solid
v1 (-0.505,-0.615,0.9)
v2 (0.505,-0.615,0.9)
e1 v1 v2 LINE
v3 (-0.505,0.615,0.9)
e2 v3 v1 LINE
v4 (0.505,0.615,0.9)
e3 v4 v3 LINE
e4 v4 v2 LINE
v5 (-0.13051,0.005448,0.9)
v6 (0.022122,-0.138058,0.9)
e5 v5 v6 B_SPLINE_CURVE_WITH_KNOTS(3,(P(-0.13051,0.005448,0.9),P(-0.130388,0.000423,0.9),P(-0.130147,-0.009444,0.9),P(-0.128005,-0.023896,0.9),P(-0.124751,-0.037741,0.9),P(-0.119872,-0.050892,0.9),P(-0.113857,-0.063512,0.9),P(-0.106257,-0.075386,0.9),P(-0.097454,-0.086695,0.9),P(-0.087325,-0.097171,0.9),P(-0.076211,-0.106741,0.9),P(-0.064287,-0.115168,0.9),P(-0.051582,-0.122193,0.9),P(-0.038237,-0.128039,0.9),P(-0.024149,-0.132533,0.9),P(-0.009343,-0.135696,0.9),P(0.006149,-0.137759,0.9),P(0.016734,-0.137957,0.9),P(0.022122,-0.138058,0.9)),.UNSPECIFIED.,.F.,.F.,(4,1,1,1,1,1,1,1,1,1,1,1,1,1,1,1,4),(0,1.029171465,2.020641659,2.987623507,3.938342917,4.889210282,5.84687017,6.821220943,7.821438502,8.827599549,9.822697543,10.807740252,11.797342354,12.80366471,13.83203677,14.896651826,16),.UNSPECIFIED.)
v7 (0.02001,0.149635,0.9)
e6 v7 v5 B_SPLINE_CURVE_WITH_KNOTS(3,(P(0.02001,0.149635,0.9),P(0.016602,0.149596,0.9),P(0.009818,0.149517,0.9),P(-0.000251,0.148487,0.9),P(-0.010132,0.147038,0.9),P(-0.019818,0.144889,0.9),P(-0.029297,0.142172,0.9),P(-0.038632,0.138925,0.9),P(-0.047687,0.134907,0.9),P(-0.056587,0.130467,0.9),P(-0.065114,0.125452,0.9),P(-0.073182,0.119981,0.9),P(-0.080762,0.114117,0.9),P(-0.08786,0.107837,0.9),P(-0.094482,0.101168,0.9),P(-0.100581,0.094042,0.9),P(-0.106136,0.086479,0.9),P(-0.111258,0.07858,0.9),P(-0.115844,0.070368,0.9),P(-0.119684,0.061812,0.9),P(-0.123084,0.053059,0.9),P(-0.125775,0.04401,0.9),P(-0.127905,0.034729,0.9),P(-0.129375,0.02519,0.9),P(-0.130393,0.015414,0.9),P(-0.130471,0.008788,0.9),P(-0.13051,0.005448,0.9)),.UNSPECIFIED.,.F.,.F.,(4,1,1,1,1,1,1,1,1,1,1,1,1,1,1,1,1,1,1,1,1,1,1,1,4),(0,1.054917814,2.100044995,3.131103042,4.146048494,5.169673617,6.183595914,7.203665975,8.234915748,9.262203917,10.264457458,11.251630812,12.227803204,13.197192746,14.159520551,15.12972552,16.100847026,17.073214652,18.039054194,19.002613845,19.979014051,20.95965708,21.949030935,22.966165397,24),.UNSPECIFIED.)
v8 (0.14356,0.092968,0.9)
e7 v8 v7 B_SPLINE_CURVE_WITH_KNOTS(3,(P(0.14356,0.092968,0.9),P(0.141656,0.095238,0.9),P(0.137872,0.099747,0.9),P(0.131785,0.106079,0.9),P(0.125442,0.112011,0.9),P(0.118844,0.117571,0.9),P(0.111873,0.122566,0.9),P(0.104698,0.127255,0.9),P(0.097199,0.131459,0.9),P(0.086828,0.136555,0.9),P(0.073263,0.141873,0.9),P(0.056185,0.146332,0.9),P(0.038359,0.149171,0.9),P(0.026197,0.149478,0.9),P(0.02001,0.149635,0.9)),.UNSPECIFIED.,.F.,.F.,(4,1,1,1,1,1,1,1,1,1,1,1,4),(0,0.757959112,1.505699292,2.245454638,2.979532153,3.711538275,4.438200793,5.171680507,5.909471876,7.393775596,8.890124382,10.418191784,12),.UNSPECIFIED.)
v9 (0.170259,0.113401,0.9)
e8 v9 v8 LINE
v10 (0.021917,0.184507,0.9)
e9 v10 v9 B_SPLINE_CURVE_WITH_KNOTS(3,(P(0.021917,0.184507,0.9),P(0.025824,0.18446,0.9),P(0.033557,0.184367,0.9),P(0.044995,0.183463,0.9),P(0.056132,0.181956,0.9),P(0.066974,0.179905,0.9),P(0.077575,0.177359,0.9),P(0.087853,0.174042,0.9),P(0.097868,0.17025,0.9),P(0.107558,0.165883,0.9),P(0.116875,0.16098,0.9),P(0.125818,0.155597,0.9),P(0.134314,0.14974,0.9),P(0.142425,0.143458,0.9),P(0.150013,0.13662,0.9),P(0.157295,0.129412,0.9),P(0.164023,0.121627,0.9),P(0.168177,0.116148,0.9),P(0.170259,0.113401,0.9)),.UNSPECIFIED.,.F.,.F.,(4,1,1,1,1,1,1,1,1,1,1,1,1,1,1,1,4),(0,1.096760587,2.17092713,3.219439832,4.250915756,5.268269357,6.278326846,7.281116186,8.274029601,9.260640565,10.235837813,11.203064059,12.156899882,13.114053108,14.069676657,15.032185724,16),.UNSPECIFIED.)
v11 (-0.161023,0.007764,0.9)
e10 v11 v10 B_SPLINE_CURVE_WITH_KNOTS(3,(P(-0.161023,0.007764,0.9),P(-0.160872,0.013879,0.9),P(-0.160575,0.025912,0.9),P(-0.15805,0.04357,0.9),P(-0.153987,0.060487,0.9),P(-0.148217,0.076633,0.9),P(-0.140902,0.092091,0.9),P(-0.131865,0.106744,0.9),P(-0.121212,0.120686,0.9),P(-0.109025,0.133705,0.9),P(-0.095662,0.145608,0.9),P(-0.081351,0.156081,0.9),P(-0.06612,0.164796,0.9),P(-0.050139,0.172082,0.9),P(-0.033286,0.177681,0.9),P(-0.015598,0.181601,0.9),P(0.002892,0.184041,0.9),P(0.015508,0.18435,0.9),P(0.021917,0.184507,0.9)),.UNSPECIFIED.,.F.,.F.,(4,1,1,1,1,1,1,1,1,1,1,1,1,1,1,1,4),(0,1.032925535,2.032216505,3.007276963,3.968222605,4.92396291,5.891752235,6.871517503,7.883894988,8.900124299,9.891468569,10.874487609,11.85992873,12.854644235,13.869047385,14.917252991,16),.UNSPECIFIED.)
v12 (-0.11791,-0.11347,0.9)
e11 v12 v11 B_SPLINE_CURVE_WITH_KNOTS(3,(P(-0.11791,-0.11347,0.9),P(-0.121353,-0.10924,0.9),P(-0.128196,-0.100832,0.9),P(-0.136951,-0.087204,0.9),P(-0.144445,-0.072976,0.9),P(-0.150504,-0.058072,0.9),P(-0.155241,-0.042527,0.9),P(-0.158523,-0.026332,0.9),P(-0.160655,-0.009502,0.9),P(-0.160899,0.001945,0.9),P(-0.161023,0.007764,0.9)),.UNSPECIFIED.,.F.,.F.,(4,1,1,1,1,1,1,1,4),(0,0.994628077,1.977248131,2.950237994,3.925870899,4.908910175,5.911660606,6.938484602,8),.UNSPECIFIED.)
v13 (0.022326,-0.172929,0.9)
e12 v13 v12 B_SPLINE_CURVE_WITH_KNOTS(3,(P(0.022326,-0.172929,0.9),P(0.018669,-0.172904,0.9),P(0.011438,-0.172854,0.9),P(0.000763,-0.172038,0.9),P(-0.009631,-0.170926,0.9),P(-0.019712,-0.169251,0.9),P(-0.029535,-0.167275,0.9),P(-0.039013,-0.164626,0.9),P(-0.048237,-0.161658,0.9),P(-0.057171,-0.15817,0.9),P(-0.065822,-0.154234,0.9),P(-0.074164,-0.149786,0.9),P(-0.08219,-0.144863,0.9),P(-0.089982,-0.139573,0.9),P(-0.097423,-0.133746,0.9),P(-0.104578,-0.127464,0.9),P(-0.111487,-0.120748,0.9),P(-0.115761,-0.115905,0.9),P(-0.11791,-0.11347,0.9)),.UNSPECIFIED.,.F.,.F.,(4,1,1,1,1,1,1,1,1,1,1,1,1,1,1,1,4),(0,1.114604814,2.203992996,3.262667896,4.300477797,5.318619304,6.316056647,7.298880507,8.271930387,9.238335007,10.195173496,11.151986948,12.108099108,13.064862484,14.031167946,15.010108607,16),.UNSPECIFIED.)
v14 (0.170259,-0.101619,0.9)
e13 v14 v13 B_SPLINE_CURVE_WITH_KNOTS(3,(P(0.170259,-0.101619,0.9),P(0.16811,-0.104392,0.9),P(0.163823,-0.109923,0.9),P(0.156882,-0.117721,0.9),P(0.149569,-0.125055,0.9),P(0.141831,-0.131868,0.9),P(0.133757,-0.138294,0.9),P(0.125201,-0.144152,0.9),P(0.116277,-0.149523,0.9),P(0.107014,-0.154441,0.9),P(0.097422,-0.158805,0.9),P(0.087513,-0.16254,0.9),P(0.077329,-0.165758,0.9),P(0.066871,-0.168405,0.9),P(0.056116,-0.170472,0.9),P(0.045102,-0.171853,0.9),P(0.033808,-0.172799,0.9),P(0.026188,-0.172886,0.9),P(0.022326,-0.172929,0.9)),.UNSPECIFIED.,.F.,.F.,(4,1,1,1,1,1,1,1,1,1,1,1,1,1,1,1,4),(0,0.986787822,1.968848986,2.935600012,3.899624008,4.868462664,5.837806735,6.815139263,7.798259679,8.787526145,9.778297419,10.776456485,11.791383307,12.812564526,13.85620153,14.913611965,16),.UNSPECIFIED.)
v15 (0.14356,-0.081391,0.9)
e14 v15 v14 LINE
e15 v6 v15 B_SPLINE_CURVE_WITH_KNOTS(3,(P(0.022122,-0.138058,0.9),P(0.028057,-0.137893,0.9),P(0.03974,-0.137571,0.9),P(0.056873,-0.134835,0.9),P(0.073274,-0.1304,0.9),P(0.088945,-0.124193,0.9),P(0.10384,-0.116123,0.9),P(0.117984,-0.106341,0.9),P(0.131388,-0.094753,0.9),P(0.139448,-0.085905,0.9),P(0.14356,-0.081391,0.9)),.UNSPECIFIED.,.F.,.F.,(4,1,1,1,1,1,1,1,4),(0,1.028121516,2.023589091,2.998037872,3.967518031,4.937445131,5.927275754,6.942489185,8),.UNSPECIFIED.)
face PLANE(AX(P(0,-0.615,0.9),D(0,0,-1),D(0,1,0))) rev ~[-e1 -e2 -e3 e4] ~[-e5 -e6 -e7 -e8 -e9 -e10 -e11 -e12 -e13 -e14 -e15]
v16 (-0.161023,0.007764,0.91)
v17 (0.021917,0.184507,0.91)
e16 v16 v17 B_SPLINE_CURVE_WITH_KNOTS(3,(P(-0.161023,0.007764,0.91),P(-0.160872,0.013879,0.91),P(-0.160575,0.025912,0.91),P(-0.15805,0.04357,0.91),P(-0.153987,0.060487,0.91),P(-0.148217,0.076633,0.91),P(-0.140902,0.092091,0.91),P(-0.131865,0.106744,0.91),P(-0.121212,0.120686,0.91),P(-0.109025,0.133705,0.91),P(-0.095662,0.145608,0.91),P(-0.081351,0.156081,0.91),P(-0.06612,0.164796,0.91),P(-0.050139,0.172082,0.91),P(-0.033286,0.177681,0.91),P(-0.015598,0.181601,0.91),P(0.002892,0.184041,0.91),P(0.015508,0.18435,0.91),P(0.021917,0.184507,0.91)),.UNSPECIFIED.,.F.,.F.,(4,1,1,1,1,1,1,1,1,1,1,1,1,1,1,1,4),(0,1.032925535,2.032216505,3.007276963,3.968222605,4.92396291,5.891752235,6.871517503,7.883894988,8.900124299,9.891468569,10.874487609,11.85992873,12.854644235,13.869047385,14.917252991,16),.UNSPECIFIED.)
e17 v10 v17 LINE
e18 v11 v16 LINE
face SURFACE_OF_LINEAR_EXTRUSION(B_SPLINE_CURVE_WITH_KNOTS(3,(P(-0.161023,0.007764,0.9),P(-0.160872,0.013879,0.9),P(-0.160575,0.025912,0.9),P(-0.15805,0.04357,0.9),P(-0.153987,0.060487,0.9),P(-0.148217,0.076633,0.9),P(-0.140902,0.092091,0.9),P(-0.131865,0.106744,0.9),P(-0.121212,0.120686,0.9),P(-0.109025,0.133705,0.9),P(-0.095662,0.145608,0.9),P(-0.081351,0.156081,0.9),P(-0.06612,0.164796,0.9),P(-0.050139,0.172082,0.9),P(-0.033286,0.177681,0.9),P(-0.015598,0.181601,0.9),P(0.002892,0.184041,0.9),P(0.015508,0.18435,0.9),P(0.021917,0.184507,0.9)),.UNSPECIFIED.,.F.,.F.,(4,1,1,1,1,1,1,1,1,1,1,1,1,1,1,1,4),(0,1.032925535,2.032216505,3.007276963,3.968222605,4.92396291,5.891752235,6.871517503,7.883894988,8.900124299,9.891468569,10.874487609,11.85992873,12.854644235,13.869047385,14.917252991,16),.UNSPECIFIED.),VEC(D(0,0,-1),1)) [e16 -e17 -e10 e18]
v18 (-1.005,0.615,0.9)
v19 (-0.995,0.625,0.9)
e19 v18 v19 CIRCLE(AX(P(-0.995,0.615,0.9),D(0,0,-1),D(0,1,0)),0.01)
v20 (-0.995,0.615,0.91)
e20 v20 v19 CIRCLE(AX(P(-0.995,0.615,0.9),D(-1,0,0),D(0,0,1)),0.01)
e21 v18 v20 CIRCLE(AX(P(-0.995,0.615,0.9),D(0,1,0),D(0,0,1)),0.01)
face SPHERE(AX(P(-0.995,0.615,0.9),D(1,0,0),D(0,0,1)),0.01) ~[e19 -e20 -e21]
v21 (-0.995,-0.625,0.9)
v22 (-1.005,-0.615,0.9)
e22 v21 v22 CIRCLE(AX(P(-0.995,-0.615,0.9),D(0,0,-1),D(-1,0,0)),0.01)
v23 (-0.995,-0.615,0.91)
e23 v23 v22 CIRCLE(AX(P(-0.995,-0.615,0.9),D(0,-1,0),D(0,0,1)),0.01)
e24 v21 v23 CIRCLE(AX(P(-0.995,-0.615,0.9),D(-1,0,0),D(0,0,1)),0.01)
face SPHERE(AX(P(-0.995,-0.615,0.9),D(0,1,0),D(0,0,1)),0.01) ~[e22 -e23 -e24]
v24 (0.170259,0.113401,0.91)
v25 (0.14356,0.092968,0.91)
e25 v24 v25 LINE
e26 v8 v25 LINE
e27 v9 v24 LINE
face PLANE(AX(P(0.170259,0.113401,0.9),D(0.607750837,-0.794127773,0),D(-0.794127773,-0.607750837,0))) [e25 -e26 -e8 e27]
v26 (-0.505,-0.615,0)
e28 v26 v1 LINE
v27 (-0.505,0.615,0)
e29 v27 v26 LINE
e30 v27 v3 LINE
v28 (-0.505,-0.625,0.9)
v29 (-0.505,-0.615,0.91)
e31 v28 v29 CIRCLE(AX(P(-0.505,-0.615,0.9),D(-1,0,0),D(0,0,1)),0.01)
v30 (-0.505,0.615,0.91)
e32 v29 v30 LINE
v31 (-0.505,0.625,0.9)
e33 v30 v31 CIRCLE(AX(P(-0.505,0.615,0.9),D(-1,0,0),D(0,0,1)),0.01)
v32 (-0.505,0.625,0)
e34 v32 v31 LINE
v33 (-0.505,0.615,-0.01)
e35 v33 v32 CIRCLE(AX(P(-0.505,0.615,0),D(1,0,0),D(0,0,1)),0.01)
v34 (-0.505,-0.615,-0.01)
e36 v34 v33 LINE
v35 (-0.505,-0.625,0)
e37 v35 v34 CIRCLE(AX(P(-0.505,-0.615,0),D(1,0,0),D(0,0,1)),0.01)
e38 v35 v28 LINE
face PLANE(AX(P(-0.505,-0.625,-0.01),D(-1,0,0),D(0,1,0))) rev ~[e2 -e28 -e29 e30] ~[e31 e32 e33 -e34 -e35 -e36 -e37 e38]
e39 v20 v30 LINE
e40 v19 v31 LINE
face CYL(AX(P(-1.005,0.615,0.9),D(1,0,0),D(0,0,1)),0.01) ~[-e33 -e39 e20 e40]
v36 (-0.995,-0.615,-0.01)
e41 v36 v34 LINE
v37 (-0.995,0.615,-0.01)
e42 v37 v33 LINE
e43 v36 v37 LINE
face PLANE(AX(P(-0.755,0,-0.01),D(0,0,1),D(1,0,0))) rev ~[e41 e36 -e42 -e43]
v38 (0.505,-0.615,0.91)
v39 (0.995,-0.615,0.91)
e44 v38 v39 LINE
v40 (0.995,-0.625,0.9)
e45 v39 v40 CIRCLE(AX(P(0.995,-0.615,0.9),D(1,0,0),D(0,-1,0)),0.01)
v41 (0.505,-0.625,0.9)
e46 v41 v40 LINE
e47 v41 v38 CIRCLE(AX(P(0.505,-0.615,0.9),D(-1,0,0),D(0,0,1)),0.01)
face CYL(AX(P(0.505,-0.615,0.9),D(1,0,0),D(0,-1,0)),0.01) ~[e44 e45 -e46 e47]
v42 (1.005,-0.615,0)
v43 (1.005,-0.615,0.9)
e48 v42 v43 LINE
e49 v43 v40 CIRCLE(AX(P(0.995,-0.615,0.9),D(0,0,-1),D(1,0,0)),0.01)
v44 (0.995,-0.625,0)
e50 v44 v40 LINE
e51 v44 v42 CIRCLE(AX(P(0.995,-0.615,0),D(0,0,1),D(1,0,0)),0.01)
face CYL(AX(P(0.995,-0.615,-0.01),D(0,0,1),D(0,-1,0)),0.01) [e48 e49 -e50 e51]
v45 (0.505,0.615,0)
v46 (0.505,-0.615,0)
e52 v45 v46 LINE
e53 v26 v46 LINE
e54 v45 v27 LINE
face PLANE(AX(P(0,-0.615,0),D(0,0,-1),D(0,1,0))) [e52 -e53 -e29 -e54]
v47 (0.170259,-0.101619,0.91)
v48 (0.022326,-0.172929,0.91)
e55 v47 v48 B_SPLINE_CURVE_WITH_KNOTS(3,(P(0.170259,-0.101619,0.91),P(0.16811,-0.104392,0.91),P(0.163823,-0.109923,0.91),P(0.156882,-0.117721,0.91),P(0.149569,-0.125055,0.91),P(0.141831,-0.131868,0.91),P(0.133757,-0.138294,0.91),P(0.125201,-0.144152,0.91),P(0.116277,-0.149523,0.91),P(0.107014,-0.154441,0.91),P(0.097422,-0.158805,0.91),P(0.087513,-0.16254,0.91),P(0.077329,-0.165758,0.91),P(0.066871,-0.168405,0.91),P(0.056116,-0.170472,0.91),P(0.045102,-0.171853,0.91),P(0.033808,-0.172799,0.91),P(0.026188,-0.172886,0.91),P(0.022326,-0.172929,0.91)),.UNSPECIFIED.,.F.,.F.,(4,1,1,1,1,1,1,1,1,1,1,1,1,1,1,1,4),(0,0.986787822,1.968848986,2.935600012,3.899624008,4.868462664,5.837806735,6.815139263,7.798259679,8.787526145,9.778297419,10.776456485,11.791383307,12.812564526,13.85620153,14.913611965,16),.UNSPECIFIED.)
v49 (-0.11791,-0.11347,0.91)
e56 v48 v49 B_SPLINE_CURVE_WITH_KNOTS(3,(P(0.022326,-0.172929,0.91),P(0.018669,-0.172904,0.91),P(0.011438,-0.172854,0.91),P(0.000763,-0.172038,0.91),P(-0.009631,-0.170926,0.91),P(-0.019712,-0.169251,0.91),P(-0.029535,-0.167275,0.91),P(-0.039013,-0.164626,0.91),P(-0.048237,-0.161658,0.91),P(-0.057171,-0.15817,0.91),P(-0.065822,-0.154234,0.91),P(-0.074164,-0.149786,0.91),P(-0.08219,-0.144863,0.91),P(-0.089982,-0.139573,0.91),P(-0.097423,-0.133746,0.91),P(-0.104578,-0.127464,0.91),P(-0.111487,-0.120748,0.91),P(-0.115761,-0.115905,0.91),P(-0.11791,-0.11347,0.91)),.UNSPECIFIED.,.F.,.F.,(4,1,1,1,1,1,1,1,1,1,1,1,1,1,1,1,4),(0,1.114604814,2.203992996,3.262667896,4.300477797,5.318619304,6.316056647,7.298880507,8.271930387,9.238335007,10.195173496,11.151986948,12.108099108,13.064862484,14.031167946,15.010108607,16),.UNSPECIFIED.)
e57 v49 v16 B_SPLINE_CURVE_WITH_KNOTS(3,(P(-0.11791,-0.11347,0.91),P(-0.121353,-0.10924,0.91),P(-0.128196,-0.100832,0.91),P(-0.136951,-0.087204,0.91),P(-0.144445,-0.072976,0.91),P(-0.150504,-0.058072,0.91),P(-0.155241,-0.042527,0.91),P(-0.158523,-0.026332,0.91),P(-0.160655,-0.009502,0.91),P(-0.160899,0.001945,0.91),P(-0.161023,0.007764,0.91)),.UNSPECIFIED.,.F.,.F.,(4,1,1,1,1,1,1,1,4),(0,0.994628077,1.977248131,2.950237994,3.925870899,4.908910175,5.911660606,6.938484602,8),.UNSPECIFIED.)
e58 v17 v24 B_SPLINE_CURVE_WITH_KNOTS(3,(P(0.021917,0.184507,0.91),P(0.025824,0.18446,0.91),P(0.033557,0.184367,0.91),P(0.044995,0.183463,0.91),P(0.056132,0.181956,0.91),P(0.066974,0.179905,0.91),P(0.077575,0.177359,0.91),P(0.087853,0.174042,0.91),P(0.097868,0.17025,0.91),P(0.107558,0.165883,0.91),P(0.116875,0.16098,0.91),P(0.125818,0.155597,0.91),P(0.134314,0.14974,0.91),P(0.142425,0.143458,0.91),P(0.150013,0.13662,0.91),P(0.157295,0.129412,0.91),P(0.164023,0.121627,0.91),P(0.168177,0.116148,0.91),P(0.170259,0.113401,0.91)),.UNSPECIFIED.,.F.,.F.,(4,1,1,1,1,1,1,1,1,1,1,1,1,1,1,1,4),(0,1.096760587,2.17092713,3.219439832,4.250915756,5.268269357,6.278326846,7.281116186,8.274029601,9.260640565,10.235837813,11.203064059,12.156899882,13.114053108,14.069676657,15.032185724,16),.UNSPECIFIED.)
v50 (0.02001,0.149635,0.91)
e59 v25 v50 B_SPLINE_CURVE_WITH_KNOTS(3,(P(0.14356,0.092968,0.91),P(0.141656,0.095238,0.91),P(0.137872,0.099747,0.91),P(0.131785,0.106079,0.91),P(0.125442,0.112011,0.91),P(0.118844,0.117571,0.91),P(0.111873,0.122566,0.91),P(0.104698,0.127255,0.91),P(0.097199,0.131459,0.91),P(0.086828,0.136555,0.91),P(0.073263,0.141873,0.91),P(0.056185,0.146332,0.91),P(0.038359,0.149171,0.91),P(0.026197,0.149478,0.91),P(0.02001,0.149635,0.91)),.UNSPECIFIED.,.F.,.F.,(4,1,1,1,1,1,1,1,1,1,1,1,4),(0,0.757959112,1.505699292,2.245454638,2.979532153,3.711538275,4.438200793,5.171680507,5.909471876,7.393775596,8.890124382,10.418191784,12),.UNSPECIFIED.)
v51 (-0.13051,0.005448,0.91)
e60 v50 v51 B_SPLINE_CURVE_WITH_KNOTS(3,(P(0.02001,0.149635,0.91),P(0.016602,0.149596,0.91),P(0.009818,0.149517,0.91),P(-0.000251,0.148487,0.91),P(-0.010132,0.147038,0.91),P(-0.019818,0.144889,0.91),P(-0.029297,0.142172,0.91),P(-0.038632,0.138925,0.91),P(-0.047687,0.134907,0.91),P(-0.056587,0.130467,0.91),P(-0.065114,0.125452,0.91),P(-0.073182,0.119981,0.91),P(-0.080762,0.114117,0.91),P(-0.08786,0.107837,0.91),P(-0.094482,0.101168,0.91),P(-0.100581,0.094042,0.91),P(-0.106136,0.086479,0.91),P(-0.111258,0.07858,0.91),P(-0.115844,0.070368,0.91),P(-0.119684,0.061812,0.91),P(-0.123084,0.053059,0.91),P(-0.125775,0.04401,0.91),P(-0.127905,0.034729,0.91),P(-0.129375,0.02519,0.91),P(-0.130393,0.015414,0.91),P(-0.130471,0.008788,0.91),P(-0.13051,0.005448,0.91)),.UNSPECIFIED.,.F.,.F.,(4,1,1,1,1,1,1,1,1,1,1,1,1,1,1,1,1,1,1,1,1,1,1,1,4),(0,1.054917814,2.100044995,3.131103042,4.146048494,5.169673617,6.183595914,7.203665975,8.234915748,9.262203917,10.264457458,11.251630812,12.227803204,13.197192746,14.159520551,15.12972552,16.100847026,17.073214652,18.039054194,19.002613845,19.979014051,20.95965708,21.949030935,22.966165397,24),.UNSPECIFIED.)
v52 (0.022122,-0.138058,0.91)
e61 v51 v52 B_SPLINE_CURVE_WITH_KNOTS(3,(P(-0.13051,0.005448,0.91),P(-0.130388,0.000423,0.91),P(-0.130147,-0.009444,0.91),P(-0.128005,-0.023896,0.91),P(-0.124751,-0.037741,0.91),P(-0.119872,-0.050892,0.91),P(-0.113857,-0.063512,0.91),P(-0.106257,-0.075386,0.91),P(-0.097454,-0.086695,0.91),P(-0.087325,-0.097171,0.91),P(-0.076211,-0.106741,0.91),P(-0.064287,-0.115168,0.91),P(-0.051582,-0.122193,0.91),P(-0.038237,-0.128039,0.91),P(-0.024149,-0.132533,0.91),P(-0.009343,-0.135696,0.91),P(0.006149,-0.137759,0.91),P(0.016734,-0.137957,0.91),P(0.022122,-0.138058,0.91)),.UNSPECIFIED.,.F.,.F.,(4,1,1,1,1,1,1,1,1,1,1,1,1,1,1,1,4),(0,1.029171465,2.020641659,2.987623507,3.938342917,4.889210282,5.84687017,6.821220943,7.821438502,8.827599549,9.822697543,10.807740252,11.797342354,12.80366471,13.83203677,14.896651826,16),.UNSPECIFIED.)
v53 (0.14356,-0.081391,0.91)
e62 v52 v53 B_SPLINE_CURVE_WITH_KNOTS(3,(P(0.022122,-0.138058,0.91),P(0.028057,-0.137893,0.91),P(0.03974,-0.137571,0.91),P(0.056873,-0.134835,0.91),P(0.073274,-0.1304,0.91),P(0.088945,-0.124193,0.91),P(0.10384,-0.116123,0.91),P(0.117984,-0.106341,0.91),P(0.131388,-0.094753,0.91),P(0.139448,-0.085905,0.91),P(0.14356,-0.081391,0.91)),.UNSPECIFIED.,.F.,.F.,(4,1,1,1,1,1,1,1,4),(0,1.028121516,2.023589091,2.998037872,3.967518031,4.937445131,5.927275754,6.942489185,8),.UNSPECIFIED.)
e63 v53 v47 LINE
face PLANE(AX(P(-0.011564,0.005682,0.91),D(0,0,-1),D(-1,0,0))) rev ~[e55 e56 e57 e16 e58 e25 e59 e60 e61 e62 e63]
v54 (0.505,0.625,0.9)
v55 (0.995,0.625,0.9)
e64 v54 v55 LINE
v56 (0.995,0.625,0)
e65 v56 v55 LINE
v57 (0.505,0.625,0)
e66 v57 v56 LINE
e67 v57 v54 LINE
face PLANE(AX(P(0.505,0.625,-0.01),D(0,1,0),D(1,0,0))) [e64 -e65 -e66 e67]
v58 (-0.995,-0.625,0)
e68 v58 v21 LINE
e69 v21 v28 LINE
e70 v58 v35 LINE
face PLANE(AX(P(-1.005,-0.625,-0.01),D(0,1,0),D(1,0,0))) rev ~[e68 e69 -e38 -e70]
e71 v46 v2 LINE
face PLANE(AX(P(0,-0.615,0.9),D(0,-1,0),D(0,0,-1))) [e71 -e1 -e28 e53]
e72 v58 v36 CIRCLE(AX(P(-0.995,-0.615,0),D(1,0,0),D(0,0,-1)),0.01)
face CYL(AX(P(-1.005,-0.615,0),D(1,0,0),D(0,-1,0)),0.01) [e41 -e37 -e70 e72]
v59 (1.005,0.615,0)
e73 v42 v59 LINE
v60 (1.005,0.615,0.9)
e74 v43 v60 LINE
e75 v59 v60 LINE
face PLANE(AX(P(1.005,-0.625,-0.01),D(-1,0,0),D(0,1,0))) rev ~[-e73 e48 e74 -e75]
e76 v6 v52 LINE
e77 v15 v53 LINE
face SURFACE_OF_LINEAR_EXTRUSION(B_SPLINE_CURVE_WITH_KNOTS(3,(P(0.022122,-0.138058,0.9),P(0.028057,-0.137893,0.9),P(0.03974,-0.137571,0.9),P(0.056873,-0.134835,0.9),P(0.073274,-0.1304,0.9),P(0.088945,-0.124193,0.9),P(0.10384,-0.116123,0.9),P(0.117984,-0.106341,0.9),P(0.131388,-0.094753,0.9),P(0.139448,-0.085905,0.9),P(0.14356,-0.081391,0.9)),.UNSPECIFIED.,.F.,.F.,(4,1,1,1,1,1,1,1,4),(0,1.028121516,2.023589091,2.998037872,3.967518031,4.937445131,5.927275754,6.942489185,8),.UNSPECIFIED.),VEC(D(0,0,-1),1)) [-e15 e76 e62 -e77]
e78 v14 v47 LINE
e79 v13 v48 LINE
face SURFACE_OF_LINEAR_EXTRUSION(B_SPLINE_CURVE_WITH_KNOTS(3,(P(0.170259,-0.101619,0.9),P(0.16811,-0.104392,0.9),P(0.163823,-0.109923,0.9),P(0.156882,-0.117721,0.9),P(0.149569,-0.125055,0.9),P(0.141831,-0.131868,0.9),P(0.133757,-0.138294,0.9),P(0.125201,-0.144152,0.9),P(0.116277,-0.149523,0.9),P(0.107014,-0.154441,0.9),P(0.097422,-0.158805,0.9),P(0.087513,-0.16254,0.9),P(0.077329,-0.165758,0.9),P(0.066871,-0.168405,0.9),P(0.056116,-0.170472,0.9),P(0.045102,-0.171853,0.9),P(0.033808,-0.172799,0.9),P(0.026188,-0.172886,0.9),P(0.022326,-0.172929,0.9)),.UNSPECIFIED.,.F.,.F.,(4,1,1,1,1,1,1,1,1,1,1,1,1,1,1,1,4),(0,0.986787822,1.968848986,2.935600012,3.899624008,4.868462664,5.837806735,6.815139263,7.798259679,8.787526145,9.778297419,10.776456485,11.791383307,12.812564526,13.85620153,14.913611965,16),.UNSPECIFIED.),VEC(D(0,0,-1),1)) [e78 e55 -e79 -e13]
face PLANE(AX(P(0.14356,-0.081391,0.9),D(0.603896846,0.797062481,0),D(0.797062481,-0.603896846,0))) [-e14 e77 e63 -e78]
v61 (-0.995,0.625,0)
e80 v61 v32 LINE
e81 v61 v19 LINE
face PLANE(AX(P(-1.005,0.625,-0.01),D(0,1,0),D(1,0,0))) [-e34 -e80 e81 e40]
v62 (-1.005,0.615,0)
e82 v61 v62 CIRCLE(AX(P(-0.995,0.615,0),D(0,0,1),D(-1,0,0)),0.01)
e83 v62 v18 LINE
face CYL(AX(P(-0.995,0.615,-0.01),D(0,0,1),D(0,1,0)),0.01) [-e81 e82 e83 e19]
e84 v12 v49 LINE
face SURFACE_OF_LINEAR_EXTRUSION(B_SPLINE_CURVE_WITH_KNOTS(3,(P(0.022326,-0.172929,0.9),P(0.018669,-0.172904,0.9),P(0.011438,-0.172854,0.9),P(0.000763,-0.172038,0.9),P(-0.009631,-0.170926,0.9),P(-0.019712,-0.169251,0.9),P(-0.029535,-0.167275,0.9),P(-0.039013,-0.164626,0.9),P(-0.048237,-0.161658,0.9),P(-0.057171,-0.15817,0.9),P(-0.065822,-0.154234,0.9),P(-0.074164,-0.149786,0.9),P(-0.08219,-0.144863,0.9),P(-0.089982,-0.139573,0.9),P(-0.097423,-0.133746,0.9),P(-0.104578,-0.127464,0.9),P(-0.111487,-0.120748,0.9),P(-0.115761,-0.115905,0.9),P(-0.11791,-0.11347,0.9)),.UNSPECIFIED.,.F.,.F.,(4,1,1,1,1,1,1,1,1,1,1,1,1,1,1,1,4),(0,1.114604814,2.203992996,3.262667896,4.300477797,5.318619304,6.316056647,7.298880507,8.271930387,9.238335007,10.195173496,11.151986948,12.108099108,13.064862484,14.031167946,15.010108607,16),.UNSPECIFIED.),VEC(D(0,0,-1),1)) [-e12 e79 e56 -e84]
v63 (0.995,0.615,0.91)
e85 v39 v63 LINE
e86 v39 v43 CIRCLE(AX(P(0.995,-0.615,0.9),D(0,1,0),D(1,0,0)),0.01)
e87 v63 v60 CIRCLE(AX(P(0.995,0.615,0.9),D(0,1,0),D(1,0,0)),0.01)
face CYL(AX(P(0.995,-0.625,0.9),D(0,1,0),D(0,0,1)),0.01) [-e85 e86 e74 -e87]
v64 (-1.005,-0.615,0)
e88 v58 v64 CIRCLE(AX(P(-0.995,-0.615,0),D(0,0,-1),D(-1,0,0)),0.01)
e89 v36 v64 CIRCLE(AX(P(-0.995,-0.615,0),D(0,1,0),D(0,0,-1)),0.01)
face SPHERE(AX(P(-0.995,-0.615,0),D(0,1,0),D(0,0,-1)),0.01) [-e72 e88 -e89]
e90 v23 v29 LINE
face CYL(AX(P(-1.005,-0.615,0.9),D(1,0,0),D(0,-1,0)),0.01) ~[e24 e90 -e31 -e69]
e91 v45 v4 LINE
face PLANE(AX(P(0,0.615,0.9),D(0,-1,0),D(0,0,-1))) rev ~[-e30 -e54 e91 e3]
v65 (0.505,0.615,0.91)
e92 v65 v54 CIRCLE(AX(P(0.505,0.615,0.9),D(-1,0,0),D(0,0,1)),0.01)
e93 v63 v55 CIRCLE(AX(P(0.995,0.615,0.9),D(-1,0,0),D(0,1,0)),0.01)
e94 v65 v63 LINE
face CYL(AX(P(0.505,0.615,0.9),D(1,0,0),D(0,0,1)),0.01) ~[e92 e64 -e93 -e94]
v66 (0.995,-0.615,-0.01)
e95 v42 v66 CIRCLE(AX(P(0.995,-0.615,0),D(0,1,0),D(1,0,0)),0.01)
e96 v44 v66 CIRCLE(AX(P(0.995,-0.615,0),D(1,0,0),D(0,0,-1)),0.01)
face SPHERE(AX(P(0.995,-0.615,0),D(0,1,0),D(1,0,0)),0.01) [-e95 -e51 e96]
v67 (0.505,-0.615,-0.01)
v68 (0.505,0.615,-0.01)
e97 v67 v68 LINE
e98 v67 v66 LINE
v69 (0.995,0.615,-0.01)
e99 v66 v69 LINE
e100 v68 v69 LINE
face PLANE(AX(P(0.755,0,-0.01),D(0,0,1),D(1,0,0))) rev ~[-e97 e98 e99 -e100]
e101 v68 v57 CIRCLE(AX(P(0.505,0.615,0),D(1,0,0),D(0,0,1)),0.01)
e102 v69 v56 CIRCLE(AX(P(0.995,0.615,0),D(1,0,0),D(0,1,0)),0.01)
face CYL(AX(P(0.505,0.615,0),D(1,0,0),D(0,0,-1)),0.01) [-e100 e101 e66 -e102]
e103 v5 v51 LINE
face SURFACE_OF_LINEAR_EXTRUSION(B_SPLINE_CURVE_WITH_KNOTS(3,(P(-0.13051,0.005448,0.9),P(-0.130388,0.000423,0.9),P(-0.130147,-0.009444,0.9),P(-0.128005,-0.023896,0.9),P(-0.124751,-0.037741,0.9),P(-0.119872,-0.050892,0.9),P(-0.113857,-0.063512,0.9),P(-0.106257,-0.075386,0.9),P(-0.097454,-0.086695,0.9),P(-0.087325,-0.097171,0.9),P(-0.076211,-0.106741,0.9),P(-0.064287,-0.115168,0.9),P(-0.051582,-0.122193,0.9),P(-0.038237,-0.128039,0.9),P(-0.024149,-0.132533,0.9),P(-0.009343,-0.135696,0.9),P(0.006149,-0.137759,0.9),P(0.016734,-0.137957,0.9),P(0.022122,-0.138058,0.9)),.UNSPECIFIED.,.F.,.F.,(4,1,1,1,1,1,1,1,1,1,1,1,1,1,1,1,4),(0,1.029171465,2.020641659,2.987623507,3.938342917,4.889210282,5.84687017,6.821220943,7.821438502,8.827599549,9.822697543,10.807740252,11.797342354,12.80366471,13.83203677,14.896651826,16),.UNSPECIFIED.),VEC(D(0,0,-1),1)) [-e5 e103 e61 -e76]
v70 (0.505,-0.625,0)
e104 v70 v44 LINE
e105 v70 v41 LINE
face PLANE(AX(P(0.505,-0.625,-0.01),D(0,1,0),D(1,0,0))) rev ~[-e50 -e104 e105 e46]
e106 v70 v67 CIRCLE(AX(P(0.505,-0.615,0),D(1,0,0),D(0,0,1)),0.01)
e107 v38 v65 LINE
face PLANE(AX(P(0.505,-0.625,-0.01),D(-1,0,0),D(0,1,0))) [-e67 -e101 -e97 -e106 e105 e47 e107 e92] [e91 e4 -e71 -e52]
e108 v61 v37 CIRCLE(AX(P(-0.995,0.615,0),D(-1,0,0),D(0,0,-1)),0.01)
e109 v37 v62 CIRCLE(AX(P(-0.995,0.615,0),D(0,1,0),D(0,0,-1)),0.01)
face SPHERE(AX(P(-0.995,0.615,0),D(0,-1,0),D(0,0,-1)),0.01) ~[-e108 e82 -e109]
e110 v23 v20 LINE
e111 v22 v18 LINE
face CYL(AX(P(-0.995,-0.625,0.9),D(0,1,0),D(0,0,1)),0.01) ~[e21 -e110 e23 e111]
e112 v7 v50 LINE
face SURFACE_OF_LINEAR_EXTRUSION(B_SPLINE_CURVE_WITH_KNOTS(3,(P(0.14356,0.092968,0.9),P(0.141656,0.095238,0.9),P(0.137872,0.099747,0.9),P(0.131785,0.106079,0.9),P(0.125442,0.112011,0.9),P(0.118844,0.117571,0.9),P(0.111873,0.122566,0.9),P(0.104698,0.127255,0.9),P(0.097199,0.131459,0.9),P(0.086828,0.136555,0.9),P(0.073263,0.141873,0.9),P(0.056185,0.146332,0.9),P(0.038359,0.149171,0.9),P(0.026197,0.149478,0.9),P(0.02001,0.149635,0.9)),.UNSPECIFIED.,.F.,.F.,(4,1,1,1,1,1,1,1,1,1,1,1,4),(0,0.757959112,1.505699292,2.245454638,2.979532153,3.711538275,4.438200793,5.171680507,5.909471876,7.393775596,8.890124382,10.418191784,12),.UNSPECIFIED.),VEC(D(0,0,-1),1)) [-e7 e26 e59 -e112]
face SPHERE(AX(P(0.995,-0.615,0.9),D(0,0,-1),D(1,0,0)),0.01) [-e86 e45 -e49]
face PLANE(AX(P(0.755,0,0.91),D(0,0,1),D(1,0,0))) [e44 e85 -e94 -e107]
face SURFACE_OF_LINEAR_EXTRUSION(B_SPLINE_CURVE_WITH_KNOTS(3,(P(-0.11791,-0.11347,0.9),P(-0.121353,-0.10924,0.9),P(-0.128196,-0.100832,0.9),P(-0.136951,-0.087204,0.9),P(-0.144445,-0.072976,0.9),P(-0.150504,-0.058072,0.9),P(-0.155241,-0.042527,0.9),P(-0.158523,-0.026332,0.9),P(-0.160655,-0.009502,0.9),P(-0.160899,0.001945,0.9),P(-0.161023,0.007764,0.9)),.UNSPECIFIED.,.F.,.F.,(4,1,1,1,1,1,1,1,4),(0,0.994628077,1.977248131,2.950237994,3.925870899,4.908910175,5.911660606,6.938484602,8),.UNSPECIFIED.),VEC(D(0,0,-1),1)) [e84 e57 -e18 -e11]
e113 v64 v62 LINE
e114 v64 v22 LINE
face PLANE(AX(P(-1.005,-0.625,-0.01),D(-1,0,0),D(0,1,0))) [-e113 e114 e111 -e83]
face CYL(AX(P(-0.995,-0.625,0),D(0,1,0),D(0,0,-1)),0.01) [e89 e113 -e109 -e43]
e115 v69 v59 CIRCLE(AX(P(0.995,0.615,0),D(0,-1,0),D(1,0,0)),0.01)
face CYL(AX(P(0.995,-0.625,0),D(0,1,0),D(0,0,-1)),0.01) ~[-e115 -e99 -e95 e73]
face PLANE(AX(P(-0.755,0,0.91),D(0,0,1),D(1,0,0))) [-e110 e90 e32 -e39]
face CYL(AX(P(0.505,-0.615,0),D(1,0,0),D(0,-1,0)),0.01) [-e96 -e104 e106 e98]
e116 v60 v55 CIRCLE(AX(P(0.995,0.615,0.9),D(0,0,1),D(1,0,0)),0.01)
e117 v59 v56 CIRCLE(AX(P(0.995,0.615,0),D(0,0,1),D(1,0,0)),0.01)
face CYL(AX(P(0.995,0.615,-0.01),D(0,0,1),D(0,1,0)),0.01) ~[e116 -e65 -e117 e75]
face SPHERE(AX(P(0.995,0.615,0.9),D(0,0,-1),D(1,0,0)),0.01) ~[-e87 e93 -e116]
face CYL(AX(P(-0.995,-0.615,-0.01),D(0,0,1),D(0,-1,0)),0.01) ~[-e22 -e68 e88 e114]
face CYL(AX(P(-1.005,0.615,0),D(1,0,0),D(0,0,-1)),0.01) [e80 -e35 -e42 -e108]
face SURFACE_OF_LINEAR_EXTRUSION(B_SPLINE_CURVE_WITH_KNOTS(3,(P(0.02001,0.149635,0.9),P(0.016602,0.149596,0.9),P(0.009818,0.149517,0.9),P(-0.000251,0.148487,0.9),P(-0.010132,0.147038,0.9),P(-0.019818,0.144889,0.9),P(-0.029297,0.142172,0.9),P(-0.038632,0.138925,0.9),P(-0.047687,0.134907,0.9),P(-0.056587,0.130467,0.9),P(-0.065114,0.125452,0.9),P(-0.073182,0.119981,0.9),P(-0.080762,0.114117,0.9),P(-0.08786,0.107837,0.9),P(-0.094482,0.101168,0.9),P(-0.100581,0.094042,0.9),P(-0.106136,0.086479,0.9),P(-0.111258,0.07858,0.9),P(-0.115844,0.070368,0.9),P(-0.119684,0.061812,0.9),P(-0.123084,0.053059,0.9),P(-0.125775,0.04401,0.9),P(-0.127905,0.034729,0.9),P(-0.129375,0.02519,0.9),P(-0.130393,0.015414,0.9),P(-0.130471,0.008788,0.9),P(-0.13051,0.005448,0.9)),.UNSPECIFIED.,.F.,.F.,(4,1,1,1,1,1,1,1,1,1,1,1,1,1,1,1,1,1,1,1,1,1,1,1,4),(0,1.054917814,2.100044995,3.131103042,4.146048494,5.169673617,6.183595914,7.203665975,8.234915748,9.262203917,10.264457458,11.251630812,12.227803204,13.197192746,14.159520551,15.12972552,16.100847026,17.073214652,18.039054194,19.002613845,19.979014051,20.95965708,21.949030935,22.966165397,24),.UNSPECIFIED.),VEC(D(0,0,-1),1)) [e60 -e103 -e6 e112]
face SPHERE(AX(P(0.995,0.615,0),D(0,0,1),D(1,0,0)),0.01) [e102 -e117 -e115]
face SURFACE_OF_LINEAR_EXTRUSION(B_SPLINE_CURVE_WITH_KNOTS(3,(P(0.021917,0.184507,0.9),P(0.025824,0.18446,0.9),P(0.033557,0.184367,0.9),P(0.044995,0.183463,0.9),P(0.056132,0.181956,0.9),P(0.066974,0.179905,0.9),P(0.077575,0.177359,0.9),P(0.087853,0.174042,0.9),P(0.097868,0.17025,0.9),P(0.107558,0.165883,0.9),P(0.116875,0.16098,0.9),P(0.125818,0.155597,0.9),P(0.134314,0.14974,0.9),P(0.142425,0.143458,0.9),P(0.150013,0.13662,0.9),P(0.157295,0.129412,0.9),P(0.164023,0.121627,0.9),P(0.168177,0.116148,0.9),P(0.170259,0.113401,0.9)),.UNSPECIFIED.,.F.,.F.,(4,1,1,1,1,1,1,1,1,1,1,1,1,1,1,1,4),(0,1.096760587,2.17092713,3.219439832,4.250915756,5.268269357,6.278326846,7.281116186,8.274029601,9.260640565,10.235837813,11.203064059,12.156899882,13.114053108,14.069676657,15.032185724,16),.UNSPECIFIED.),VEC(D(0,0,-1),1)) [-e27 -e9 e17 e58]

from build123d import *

# Parameters (mm, degrees)
EXTRUDE_1_DEPTH        = 0.91
EXTRUDE_1_DEPTH_BACK   = 0.01
SKETCH_3_W             = 0.5
SKETCH_3_H             = 1.25
EXTRUDE_1_2_DEPTH      = 0.91
EXTRUDE_1_2_DEPTH_BACK = 0.01
SKETCH_5_W             = 0.9
SKETCH_5_H             = 1.23
EXTRUDE_3_DEPTH        = 0.55
FILLET_3_R             = 0.01
EXTRUDE_4_DEPTH        = 0.01


with BuildPart() as part:
    # 草图3 → 凸台-拉伸1 (new, two sides: drawn at the far end of the back side and taken through both)
    with BuildSketch(Plane.XY.offset(-EXTRUDE_1_DEPTH_BACK)):
        with Locations((-0.755, 0)):
            Rectangle(SKETCH_3_W, SKETCH_3_H)
    extrude(amount=EXTRUDE_1_DEPTH + EXTRUDE_1_DEPTH_BACK)



with BuildPart() as body_2:
    # 草图3 → Extrude 1 2 (new, two sides: drawn at the far end of the back side and taken through both)
    with BuildSketch(Plane.XY.offset(-EXTRUDE_1_2_DEPTH_BACK)):
        with Locations((0.755, 0)):
            Rectangle(SKETCH_3_W, SKETCH_3_H)
    extrude(amount=EXTRUDE_1_2_DEPTH + EXTRUDE_1_2_DEPTH_BACK)


with BuildPart() as part_1:
    add(part.part)

    add(body_2.part)  # 凸台-拉伸3 merges body 2
    # 草图5 → 凸台-拉伸3 (add, symmetric)
    with BuildSketch(Plane(origin=(0, 0, 0), x_dir=(0, 0, -1), z_dir=(1, 0, 0))):
        with Locations((-0.45, 0)):
            Rectangle(SKETCH_5_W, SKETCH_5_H)
    extrude(amount=EXTRUDE_3_DEPTH, both=True)

    # 圆角3
    fillet_3_edges = [part_1.edges().sort_by_distance(p)[0] for p in [
        (-1.005, 0, -0.01),
        (-0.755, 0.625, 0.91),
        (-0.755, -0.625, -0.01),
        (-1.005, 0, 0.91),
        (-0.755, -0.625, 0.91),
        (1.005, 0.625, 0.45),
        (1.005, 0, -0.01),
        (1.005, -0.625, 0.45),
        (0.755, -0.625, -0.01),
        (0.755, 0.625, -0.01),
        (1.005, 0, 0.91),
        (0.755, 0.625, 0.91),
        (0.755, -0.625, 0.91),
        (-0.755, 0.625, -0.01),
        (-1.005, -0.625, 0.45),
        (-1.005, 0.625, 0.45),
    ]]
    fillet(fillet_3_edges, radius=FILLET_3_R)

    # 草图6 → 凸台-拉伸4 (add)
    with BuildSketch(Plane.XY.offset(0.9)):
        with BuildLine():
            Line((0.17025882, 0.113400816), (0.143560102, 0.092968124))
            add(Edge.make_bspline(
                [(0.143560102, 0.092968124), (0.14165553, 0.095237961), (0.137872064, 0.099747033), (0.13178517, 0.10607876), (0.125441582, 0.112010814), (0.118843724, 0.117571454), (0.111872838, 0.122566225), (0.104697789, 0.127255418), (0.097198551, 0.13145857), (0.086828382, 0.136554974), (0.073262591, 0.141873172), (0.056185378, 0.146332343), (0.038358586, 0.149170972), (0.026196533, 0.149478413), (0.020010423, 0.149634791)],
                knots=[0, 0, 0, 0, 0.757959112, 1.505699292, 2.245454638, 2.979532153, 3.711538275, 4.438200793, 5.171680507, 5.909471876, 7.393775596, 8.890124382, 10.418191784, 12, 12, 12, 12], degree=3))
            add(Edge.make_bspline(
                [(0.020010423, 0.149634791), (0.016602331, 0.149595548), (0.009817777, 0.149517429), (-0.000250932, 0.148486828), (-0.010131628, 0.14703831), (-0.019817885, 0.144888993), (-0.029297372, 0.142171653), (-0.038632063, 0.138924613), (-0.047686807, 0.134907285), (-0.056586864, 0.130467055), (-0.065113987, 0.125451817), (-0.073182192, 0.119981377), (-0.080762052, 0.114116951), (-0.087859563, 0.107836557), (-0.09448198, 0.101168481), (-0.100581319, 0.09404166), (-0.106136473, 0.086478877), (-0.111257556, 0.07857986), (-0.115843936, 0.070367618), (-0.119683981, 0.061811754), (-0.123084479, 0.053058784), (-0.125775262, 0.044009814), (-0.127905072, 0.034728516), (-0.129374617, 0.025189983), (-0.130393497, 0.01541414), (-0.130471228, 0.008788092), (-0.130510411, 0.005448092)],
                knots=[0, 0, 0, 0, 1.054917814, 2.100044995, 3.131103042, 4.146048494, 5.169673617, 6.183595914, 7.203665975, 8.234915748, 9.262203917, 10.264457458, 11.251630812, 12.227803204, 13.197192746, 14.159520551, 15.12972552, 16.100847026, 17.073214652, 18.039054194, 19.002613845, 19.979014051, 20.95965708, 21.949030935, 22.966165397, 24, 24, 24, 24], degree=3))
            add(Edge.make_bspline(
                [(-0.130510411, 0.005448092), (-0.130387834, 0.000422764), (-0.130147171, -0.009443802), (-0.128005333, -0.023895804), (-0.124750552, -0.037740669), (-0.119872468, -0.050891854), (-0.113857474, -0.063511523), (-0.106256958, -0.075386155), (-0.097454208, -0.086695192), (-0.087324693, -0.097171364), (-0.076210985, -0.106741269), (-0.064286903, -0.115168468), (-0.051582143, -0.122193343), (-0.038236985, -0.128039006), (-0.024148734, -0.132532517), (-0.009342724, -0.135695889), (0.006148841, -0.137759415), (0.01673444, -0.137956973), (0.022121801, -0.138057517)],
                knots=[0, 0, 0, 0, 1.029171465, 2.020641659, 2.987623507, 3.938342917, 4.889210282, 5.84687017, 6.821220943, 7.821438502, 8.827599549, 9.822697543, 10.807740252, 11.797342354, 12.80366471, 13.83203677, 14.896651826, 16, 16, 16, 16], degree=3))
            add(Edge.make_bspline(
                [(0.022121801, -0.138057517), (0.028057491, -0.137893464), (0.039740348, -0.137570569), (0.056873242, -0.134835099), (0.073274431, -0.130399758), (0.088944796, -0.124192532), (0.103840162, -0.116123332), (0.117983838, -0.106341253), (0.131387762, -0.094753243), (0.139447829, -0.085905168), (0.143560102, -0.08139085)],
                knots=[0, 0, 0, 0, 1.028121516, 2.023589091, 2.998037872, 3.967518031, 4.937445131, 5.927275754, 6.942489185, 8, 8, 8, 8], degree=3))
            Line((0.143560102, -0.08139085), (0.17025882, -0.101619216))
            add(Edge.make_bspline(
                [(0.17025882, -0.101619216), (0.168110204, -0.104391523), (0.163823263, -0.109922857), (0.156881627, -0.11772068), (0.149568975, -0.125055358), (0.141830992, -0.131867755), (0.133756692, -0.138294189), (0.125201096, -0.144152081), (0.116276676, -0.149523196), (0.107013669, -0.15444124), (0.097421918, -0.15880463), (0.087512916, -0.162540139), (0.077329374, -0.165757985), (0.066870828, -0.168405316), (0.056115583, -0.17047165), (0.045102451, -0.17185299), (0.033807663, -0.172799347), (0.02618764, -0.172885602), (0.022326128, -0.172929312)],
                knots=[0, 0, 0, 0, 0.986787822, 1.968848986, 2.935600012, 3.899624008, 4.868462664, 5.837806735, 6.815139263, 7.798259679, 8.787526145, 9.778297419, 10.776456485, 11.791383307, 12.812564526, 13.85620153, 14.913611965, 16, 16, 16, 16], degree=3))
            add(Edge.make_bspline(
                [(0.022326128, -0.172929312), (0.018669315, -0.172903861), (0.011438419, -0.172853536), (0.00076254, -0.172038297), (-0.009630733, -0.170926036), (-0.019711697, -0.169251281), (-0.029535363, -0.167274974), (-0.039012677, -0.164625766), (-0.048236898, -0.161658132), (-0.057170965, -0.158170219), (-0.065822479, -0.154234362), (-0.074163535, -0.149786039), (-0.082190297, -0.144862658), (-0.08998168, -0.139572742), (-0.097422588, -0.133746376), (-0.104577502, -0.127464474), (-0.111486543, -0.12074821), (-0.115761089, -0.115905167), (-0.11791025, -0.113470177)],
                knots=[0, 0, 0, 0, 1.114604814, 2.203992996, 3.262667896, 4.300477797, 5.318619304, 6.316056647, 7.298880507, 8.271930387, 9.238335007, 10.195173496, 11.151986948, 12.108099108, 13.064862484, 14.031167946, 15.010108607, 16, 16, 16, 16], degree=3))
            add(Edge.make_bspline(
                [(-0.11791025, -0.113470177), (-0.12135257, -0.109240462), (-0.128195651, -0.100832096), (-0.136950717, -0.087204315), (-0.144445051, -0.072975974), (-0.150504426, -0.058072324), (-0.155241377, -0.042526807), (-0.158522979, -0.026331585), (-0.160655421, -0.009501785), (-0.160899277, 0.001945217), (-0.161023231, 0.007763797)],
                knots=[0, 0, 0, 0, 0.994628077, 1.977248131, 2.950237994, 3.925870899, 4.908910175, 5.911660606, 6.938484602, 8, 8, 8, 8], degree=3))
            add(Edge.make_bspline(
                [(-0.161023231, 0.007763797), (-0.160872155, 0.01387947), (-0.160574923, 0.025911674), (-0.158049617, 0.043569715), (-0.153987219, 0.060487279), (-0.148217236, 0.076632786), (-0.140901859, 0.092091156), (-0.131864988, 0.106744302), (-0.121211608, 0.120685934), (-0.109025273, 0.133704509), (-0.095661589, 0.145608332), (-0.081350619, 0.156080935), (-0.066120372, 0.164796351), (-0.050138638, 0.172081692), (-0.033285744, 0.17768144), (-0.015597645, 0.181601464), (0.002892421, 0.184041412), (0.015507628, 0.184349861), (0.021917474, 0.184506585)],
                knots=[0, 0, 0, 0, 1.032925535, 2.032216505, 3.007276963, 3.968222605, 4.92396291, 5.891752235, 6.871517503, 7.883894988, 8.900124299, 9.891468569, 10.874487609, 11.85992873, 12.854644235, 13.869047385, 14.917252991, 16, 16, 16, 16], degree=3))
            add(Edge.make_bspline(
                [(0.021917474, 0.184506585), (0.025824023, 0.184459749), (0.033556643, 0.184367041), (0.044995472, 0.183463016), (0.056132155, 0.18195598), (0.066974364, 0.179904705), (0.077574847, 0.177358851), (0.087852585, 0.174042365), (0.097867886, 0.170250244), (0.107557586, 0.165882851), (0.116875193, 0.160980367), (0.125817807, 0.155597135), (0.134314393, 0.149739828), (0.142424739, 0.143458263), (0.150013171, 0.136619546), (0.157295143, 0.129411779), (0.164023362, 0.12162735), (0.168176529, 0.116148014), (0.17025882, 0.113400816)],
                knots=[0, 0, 0, 0, 1.096760587, 2.17092713, 3.219439832, 4.250915756, 5.268269357, 6.278326846, 7.281116186, 8.274029601, 9.260640565, 10.235837813, 11.203064059, 12.156899882, 13.114053108, 14.069676657, 15.032185724, 16, 16, 16, 16], degree=3))
        make_face()
    extrude(amount=EXTRUDE_4_DEPTH)


solid = part_1.part
